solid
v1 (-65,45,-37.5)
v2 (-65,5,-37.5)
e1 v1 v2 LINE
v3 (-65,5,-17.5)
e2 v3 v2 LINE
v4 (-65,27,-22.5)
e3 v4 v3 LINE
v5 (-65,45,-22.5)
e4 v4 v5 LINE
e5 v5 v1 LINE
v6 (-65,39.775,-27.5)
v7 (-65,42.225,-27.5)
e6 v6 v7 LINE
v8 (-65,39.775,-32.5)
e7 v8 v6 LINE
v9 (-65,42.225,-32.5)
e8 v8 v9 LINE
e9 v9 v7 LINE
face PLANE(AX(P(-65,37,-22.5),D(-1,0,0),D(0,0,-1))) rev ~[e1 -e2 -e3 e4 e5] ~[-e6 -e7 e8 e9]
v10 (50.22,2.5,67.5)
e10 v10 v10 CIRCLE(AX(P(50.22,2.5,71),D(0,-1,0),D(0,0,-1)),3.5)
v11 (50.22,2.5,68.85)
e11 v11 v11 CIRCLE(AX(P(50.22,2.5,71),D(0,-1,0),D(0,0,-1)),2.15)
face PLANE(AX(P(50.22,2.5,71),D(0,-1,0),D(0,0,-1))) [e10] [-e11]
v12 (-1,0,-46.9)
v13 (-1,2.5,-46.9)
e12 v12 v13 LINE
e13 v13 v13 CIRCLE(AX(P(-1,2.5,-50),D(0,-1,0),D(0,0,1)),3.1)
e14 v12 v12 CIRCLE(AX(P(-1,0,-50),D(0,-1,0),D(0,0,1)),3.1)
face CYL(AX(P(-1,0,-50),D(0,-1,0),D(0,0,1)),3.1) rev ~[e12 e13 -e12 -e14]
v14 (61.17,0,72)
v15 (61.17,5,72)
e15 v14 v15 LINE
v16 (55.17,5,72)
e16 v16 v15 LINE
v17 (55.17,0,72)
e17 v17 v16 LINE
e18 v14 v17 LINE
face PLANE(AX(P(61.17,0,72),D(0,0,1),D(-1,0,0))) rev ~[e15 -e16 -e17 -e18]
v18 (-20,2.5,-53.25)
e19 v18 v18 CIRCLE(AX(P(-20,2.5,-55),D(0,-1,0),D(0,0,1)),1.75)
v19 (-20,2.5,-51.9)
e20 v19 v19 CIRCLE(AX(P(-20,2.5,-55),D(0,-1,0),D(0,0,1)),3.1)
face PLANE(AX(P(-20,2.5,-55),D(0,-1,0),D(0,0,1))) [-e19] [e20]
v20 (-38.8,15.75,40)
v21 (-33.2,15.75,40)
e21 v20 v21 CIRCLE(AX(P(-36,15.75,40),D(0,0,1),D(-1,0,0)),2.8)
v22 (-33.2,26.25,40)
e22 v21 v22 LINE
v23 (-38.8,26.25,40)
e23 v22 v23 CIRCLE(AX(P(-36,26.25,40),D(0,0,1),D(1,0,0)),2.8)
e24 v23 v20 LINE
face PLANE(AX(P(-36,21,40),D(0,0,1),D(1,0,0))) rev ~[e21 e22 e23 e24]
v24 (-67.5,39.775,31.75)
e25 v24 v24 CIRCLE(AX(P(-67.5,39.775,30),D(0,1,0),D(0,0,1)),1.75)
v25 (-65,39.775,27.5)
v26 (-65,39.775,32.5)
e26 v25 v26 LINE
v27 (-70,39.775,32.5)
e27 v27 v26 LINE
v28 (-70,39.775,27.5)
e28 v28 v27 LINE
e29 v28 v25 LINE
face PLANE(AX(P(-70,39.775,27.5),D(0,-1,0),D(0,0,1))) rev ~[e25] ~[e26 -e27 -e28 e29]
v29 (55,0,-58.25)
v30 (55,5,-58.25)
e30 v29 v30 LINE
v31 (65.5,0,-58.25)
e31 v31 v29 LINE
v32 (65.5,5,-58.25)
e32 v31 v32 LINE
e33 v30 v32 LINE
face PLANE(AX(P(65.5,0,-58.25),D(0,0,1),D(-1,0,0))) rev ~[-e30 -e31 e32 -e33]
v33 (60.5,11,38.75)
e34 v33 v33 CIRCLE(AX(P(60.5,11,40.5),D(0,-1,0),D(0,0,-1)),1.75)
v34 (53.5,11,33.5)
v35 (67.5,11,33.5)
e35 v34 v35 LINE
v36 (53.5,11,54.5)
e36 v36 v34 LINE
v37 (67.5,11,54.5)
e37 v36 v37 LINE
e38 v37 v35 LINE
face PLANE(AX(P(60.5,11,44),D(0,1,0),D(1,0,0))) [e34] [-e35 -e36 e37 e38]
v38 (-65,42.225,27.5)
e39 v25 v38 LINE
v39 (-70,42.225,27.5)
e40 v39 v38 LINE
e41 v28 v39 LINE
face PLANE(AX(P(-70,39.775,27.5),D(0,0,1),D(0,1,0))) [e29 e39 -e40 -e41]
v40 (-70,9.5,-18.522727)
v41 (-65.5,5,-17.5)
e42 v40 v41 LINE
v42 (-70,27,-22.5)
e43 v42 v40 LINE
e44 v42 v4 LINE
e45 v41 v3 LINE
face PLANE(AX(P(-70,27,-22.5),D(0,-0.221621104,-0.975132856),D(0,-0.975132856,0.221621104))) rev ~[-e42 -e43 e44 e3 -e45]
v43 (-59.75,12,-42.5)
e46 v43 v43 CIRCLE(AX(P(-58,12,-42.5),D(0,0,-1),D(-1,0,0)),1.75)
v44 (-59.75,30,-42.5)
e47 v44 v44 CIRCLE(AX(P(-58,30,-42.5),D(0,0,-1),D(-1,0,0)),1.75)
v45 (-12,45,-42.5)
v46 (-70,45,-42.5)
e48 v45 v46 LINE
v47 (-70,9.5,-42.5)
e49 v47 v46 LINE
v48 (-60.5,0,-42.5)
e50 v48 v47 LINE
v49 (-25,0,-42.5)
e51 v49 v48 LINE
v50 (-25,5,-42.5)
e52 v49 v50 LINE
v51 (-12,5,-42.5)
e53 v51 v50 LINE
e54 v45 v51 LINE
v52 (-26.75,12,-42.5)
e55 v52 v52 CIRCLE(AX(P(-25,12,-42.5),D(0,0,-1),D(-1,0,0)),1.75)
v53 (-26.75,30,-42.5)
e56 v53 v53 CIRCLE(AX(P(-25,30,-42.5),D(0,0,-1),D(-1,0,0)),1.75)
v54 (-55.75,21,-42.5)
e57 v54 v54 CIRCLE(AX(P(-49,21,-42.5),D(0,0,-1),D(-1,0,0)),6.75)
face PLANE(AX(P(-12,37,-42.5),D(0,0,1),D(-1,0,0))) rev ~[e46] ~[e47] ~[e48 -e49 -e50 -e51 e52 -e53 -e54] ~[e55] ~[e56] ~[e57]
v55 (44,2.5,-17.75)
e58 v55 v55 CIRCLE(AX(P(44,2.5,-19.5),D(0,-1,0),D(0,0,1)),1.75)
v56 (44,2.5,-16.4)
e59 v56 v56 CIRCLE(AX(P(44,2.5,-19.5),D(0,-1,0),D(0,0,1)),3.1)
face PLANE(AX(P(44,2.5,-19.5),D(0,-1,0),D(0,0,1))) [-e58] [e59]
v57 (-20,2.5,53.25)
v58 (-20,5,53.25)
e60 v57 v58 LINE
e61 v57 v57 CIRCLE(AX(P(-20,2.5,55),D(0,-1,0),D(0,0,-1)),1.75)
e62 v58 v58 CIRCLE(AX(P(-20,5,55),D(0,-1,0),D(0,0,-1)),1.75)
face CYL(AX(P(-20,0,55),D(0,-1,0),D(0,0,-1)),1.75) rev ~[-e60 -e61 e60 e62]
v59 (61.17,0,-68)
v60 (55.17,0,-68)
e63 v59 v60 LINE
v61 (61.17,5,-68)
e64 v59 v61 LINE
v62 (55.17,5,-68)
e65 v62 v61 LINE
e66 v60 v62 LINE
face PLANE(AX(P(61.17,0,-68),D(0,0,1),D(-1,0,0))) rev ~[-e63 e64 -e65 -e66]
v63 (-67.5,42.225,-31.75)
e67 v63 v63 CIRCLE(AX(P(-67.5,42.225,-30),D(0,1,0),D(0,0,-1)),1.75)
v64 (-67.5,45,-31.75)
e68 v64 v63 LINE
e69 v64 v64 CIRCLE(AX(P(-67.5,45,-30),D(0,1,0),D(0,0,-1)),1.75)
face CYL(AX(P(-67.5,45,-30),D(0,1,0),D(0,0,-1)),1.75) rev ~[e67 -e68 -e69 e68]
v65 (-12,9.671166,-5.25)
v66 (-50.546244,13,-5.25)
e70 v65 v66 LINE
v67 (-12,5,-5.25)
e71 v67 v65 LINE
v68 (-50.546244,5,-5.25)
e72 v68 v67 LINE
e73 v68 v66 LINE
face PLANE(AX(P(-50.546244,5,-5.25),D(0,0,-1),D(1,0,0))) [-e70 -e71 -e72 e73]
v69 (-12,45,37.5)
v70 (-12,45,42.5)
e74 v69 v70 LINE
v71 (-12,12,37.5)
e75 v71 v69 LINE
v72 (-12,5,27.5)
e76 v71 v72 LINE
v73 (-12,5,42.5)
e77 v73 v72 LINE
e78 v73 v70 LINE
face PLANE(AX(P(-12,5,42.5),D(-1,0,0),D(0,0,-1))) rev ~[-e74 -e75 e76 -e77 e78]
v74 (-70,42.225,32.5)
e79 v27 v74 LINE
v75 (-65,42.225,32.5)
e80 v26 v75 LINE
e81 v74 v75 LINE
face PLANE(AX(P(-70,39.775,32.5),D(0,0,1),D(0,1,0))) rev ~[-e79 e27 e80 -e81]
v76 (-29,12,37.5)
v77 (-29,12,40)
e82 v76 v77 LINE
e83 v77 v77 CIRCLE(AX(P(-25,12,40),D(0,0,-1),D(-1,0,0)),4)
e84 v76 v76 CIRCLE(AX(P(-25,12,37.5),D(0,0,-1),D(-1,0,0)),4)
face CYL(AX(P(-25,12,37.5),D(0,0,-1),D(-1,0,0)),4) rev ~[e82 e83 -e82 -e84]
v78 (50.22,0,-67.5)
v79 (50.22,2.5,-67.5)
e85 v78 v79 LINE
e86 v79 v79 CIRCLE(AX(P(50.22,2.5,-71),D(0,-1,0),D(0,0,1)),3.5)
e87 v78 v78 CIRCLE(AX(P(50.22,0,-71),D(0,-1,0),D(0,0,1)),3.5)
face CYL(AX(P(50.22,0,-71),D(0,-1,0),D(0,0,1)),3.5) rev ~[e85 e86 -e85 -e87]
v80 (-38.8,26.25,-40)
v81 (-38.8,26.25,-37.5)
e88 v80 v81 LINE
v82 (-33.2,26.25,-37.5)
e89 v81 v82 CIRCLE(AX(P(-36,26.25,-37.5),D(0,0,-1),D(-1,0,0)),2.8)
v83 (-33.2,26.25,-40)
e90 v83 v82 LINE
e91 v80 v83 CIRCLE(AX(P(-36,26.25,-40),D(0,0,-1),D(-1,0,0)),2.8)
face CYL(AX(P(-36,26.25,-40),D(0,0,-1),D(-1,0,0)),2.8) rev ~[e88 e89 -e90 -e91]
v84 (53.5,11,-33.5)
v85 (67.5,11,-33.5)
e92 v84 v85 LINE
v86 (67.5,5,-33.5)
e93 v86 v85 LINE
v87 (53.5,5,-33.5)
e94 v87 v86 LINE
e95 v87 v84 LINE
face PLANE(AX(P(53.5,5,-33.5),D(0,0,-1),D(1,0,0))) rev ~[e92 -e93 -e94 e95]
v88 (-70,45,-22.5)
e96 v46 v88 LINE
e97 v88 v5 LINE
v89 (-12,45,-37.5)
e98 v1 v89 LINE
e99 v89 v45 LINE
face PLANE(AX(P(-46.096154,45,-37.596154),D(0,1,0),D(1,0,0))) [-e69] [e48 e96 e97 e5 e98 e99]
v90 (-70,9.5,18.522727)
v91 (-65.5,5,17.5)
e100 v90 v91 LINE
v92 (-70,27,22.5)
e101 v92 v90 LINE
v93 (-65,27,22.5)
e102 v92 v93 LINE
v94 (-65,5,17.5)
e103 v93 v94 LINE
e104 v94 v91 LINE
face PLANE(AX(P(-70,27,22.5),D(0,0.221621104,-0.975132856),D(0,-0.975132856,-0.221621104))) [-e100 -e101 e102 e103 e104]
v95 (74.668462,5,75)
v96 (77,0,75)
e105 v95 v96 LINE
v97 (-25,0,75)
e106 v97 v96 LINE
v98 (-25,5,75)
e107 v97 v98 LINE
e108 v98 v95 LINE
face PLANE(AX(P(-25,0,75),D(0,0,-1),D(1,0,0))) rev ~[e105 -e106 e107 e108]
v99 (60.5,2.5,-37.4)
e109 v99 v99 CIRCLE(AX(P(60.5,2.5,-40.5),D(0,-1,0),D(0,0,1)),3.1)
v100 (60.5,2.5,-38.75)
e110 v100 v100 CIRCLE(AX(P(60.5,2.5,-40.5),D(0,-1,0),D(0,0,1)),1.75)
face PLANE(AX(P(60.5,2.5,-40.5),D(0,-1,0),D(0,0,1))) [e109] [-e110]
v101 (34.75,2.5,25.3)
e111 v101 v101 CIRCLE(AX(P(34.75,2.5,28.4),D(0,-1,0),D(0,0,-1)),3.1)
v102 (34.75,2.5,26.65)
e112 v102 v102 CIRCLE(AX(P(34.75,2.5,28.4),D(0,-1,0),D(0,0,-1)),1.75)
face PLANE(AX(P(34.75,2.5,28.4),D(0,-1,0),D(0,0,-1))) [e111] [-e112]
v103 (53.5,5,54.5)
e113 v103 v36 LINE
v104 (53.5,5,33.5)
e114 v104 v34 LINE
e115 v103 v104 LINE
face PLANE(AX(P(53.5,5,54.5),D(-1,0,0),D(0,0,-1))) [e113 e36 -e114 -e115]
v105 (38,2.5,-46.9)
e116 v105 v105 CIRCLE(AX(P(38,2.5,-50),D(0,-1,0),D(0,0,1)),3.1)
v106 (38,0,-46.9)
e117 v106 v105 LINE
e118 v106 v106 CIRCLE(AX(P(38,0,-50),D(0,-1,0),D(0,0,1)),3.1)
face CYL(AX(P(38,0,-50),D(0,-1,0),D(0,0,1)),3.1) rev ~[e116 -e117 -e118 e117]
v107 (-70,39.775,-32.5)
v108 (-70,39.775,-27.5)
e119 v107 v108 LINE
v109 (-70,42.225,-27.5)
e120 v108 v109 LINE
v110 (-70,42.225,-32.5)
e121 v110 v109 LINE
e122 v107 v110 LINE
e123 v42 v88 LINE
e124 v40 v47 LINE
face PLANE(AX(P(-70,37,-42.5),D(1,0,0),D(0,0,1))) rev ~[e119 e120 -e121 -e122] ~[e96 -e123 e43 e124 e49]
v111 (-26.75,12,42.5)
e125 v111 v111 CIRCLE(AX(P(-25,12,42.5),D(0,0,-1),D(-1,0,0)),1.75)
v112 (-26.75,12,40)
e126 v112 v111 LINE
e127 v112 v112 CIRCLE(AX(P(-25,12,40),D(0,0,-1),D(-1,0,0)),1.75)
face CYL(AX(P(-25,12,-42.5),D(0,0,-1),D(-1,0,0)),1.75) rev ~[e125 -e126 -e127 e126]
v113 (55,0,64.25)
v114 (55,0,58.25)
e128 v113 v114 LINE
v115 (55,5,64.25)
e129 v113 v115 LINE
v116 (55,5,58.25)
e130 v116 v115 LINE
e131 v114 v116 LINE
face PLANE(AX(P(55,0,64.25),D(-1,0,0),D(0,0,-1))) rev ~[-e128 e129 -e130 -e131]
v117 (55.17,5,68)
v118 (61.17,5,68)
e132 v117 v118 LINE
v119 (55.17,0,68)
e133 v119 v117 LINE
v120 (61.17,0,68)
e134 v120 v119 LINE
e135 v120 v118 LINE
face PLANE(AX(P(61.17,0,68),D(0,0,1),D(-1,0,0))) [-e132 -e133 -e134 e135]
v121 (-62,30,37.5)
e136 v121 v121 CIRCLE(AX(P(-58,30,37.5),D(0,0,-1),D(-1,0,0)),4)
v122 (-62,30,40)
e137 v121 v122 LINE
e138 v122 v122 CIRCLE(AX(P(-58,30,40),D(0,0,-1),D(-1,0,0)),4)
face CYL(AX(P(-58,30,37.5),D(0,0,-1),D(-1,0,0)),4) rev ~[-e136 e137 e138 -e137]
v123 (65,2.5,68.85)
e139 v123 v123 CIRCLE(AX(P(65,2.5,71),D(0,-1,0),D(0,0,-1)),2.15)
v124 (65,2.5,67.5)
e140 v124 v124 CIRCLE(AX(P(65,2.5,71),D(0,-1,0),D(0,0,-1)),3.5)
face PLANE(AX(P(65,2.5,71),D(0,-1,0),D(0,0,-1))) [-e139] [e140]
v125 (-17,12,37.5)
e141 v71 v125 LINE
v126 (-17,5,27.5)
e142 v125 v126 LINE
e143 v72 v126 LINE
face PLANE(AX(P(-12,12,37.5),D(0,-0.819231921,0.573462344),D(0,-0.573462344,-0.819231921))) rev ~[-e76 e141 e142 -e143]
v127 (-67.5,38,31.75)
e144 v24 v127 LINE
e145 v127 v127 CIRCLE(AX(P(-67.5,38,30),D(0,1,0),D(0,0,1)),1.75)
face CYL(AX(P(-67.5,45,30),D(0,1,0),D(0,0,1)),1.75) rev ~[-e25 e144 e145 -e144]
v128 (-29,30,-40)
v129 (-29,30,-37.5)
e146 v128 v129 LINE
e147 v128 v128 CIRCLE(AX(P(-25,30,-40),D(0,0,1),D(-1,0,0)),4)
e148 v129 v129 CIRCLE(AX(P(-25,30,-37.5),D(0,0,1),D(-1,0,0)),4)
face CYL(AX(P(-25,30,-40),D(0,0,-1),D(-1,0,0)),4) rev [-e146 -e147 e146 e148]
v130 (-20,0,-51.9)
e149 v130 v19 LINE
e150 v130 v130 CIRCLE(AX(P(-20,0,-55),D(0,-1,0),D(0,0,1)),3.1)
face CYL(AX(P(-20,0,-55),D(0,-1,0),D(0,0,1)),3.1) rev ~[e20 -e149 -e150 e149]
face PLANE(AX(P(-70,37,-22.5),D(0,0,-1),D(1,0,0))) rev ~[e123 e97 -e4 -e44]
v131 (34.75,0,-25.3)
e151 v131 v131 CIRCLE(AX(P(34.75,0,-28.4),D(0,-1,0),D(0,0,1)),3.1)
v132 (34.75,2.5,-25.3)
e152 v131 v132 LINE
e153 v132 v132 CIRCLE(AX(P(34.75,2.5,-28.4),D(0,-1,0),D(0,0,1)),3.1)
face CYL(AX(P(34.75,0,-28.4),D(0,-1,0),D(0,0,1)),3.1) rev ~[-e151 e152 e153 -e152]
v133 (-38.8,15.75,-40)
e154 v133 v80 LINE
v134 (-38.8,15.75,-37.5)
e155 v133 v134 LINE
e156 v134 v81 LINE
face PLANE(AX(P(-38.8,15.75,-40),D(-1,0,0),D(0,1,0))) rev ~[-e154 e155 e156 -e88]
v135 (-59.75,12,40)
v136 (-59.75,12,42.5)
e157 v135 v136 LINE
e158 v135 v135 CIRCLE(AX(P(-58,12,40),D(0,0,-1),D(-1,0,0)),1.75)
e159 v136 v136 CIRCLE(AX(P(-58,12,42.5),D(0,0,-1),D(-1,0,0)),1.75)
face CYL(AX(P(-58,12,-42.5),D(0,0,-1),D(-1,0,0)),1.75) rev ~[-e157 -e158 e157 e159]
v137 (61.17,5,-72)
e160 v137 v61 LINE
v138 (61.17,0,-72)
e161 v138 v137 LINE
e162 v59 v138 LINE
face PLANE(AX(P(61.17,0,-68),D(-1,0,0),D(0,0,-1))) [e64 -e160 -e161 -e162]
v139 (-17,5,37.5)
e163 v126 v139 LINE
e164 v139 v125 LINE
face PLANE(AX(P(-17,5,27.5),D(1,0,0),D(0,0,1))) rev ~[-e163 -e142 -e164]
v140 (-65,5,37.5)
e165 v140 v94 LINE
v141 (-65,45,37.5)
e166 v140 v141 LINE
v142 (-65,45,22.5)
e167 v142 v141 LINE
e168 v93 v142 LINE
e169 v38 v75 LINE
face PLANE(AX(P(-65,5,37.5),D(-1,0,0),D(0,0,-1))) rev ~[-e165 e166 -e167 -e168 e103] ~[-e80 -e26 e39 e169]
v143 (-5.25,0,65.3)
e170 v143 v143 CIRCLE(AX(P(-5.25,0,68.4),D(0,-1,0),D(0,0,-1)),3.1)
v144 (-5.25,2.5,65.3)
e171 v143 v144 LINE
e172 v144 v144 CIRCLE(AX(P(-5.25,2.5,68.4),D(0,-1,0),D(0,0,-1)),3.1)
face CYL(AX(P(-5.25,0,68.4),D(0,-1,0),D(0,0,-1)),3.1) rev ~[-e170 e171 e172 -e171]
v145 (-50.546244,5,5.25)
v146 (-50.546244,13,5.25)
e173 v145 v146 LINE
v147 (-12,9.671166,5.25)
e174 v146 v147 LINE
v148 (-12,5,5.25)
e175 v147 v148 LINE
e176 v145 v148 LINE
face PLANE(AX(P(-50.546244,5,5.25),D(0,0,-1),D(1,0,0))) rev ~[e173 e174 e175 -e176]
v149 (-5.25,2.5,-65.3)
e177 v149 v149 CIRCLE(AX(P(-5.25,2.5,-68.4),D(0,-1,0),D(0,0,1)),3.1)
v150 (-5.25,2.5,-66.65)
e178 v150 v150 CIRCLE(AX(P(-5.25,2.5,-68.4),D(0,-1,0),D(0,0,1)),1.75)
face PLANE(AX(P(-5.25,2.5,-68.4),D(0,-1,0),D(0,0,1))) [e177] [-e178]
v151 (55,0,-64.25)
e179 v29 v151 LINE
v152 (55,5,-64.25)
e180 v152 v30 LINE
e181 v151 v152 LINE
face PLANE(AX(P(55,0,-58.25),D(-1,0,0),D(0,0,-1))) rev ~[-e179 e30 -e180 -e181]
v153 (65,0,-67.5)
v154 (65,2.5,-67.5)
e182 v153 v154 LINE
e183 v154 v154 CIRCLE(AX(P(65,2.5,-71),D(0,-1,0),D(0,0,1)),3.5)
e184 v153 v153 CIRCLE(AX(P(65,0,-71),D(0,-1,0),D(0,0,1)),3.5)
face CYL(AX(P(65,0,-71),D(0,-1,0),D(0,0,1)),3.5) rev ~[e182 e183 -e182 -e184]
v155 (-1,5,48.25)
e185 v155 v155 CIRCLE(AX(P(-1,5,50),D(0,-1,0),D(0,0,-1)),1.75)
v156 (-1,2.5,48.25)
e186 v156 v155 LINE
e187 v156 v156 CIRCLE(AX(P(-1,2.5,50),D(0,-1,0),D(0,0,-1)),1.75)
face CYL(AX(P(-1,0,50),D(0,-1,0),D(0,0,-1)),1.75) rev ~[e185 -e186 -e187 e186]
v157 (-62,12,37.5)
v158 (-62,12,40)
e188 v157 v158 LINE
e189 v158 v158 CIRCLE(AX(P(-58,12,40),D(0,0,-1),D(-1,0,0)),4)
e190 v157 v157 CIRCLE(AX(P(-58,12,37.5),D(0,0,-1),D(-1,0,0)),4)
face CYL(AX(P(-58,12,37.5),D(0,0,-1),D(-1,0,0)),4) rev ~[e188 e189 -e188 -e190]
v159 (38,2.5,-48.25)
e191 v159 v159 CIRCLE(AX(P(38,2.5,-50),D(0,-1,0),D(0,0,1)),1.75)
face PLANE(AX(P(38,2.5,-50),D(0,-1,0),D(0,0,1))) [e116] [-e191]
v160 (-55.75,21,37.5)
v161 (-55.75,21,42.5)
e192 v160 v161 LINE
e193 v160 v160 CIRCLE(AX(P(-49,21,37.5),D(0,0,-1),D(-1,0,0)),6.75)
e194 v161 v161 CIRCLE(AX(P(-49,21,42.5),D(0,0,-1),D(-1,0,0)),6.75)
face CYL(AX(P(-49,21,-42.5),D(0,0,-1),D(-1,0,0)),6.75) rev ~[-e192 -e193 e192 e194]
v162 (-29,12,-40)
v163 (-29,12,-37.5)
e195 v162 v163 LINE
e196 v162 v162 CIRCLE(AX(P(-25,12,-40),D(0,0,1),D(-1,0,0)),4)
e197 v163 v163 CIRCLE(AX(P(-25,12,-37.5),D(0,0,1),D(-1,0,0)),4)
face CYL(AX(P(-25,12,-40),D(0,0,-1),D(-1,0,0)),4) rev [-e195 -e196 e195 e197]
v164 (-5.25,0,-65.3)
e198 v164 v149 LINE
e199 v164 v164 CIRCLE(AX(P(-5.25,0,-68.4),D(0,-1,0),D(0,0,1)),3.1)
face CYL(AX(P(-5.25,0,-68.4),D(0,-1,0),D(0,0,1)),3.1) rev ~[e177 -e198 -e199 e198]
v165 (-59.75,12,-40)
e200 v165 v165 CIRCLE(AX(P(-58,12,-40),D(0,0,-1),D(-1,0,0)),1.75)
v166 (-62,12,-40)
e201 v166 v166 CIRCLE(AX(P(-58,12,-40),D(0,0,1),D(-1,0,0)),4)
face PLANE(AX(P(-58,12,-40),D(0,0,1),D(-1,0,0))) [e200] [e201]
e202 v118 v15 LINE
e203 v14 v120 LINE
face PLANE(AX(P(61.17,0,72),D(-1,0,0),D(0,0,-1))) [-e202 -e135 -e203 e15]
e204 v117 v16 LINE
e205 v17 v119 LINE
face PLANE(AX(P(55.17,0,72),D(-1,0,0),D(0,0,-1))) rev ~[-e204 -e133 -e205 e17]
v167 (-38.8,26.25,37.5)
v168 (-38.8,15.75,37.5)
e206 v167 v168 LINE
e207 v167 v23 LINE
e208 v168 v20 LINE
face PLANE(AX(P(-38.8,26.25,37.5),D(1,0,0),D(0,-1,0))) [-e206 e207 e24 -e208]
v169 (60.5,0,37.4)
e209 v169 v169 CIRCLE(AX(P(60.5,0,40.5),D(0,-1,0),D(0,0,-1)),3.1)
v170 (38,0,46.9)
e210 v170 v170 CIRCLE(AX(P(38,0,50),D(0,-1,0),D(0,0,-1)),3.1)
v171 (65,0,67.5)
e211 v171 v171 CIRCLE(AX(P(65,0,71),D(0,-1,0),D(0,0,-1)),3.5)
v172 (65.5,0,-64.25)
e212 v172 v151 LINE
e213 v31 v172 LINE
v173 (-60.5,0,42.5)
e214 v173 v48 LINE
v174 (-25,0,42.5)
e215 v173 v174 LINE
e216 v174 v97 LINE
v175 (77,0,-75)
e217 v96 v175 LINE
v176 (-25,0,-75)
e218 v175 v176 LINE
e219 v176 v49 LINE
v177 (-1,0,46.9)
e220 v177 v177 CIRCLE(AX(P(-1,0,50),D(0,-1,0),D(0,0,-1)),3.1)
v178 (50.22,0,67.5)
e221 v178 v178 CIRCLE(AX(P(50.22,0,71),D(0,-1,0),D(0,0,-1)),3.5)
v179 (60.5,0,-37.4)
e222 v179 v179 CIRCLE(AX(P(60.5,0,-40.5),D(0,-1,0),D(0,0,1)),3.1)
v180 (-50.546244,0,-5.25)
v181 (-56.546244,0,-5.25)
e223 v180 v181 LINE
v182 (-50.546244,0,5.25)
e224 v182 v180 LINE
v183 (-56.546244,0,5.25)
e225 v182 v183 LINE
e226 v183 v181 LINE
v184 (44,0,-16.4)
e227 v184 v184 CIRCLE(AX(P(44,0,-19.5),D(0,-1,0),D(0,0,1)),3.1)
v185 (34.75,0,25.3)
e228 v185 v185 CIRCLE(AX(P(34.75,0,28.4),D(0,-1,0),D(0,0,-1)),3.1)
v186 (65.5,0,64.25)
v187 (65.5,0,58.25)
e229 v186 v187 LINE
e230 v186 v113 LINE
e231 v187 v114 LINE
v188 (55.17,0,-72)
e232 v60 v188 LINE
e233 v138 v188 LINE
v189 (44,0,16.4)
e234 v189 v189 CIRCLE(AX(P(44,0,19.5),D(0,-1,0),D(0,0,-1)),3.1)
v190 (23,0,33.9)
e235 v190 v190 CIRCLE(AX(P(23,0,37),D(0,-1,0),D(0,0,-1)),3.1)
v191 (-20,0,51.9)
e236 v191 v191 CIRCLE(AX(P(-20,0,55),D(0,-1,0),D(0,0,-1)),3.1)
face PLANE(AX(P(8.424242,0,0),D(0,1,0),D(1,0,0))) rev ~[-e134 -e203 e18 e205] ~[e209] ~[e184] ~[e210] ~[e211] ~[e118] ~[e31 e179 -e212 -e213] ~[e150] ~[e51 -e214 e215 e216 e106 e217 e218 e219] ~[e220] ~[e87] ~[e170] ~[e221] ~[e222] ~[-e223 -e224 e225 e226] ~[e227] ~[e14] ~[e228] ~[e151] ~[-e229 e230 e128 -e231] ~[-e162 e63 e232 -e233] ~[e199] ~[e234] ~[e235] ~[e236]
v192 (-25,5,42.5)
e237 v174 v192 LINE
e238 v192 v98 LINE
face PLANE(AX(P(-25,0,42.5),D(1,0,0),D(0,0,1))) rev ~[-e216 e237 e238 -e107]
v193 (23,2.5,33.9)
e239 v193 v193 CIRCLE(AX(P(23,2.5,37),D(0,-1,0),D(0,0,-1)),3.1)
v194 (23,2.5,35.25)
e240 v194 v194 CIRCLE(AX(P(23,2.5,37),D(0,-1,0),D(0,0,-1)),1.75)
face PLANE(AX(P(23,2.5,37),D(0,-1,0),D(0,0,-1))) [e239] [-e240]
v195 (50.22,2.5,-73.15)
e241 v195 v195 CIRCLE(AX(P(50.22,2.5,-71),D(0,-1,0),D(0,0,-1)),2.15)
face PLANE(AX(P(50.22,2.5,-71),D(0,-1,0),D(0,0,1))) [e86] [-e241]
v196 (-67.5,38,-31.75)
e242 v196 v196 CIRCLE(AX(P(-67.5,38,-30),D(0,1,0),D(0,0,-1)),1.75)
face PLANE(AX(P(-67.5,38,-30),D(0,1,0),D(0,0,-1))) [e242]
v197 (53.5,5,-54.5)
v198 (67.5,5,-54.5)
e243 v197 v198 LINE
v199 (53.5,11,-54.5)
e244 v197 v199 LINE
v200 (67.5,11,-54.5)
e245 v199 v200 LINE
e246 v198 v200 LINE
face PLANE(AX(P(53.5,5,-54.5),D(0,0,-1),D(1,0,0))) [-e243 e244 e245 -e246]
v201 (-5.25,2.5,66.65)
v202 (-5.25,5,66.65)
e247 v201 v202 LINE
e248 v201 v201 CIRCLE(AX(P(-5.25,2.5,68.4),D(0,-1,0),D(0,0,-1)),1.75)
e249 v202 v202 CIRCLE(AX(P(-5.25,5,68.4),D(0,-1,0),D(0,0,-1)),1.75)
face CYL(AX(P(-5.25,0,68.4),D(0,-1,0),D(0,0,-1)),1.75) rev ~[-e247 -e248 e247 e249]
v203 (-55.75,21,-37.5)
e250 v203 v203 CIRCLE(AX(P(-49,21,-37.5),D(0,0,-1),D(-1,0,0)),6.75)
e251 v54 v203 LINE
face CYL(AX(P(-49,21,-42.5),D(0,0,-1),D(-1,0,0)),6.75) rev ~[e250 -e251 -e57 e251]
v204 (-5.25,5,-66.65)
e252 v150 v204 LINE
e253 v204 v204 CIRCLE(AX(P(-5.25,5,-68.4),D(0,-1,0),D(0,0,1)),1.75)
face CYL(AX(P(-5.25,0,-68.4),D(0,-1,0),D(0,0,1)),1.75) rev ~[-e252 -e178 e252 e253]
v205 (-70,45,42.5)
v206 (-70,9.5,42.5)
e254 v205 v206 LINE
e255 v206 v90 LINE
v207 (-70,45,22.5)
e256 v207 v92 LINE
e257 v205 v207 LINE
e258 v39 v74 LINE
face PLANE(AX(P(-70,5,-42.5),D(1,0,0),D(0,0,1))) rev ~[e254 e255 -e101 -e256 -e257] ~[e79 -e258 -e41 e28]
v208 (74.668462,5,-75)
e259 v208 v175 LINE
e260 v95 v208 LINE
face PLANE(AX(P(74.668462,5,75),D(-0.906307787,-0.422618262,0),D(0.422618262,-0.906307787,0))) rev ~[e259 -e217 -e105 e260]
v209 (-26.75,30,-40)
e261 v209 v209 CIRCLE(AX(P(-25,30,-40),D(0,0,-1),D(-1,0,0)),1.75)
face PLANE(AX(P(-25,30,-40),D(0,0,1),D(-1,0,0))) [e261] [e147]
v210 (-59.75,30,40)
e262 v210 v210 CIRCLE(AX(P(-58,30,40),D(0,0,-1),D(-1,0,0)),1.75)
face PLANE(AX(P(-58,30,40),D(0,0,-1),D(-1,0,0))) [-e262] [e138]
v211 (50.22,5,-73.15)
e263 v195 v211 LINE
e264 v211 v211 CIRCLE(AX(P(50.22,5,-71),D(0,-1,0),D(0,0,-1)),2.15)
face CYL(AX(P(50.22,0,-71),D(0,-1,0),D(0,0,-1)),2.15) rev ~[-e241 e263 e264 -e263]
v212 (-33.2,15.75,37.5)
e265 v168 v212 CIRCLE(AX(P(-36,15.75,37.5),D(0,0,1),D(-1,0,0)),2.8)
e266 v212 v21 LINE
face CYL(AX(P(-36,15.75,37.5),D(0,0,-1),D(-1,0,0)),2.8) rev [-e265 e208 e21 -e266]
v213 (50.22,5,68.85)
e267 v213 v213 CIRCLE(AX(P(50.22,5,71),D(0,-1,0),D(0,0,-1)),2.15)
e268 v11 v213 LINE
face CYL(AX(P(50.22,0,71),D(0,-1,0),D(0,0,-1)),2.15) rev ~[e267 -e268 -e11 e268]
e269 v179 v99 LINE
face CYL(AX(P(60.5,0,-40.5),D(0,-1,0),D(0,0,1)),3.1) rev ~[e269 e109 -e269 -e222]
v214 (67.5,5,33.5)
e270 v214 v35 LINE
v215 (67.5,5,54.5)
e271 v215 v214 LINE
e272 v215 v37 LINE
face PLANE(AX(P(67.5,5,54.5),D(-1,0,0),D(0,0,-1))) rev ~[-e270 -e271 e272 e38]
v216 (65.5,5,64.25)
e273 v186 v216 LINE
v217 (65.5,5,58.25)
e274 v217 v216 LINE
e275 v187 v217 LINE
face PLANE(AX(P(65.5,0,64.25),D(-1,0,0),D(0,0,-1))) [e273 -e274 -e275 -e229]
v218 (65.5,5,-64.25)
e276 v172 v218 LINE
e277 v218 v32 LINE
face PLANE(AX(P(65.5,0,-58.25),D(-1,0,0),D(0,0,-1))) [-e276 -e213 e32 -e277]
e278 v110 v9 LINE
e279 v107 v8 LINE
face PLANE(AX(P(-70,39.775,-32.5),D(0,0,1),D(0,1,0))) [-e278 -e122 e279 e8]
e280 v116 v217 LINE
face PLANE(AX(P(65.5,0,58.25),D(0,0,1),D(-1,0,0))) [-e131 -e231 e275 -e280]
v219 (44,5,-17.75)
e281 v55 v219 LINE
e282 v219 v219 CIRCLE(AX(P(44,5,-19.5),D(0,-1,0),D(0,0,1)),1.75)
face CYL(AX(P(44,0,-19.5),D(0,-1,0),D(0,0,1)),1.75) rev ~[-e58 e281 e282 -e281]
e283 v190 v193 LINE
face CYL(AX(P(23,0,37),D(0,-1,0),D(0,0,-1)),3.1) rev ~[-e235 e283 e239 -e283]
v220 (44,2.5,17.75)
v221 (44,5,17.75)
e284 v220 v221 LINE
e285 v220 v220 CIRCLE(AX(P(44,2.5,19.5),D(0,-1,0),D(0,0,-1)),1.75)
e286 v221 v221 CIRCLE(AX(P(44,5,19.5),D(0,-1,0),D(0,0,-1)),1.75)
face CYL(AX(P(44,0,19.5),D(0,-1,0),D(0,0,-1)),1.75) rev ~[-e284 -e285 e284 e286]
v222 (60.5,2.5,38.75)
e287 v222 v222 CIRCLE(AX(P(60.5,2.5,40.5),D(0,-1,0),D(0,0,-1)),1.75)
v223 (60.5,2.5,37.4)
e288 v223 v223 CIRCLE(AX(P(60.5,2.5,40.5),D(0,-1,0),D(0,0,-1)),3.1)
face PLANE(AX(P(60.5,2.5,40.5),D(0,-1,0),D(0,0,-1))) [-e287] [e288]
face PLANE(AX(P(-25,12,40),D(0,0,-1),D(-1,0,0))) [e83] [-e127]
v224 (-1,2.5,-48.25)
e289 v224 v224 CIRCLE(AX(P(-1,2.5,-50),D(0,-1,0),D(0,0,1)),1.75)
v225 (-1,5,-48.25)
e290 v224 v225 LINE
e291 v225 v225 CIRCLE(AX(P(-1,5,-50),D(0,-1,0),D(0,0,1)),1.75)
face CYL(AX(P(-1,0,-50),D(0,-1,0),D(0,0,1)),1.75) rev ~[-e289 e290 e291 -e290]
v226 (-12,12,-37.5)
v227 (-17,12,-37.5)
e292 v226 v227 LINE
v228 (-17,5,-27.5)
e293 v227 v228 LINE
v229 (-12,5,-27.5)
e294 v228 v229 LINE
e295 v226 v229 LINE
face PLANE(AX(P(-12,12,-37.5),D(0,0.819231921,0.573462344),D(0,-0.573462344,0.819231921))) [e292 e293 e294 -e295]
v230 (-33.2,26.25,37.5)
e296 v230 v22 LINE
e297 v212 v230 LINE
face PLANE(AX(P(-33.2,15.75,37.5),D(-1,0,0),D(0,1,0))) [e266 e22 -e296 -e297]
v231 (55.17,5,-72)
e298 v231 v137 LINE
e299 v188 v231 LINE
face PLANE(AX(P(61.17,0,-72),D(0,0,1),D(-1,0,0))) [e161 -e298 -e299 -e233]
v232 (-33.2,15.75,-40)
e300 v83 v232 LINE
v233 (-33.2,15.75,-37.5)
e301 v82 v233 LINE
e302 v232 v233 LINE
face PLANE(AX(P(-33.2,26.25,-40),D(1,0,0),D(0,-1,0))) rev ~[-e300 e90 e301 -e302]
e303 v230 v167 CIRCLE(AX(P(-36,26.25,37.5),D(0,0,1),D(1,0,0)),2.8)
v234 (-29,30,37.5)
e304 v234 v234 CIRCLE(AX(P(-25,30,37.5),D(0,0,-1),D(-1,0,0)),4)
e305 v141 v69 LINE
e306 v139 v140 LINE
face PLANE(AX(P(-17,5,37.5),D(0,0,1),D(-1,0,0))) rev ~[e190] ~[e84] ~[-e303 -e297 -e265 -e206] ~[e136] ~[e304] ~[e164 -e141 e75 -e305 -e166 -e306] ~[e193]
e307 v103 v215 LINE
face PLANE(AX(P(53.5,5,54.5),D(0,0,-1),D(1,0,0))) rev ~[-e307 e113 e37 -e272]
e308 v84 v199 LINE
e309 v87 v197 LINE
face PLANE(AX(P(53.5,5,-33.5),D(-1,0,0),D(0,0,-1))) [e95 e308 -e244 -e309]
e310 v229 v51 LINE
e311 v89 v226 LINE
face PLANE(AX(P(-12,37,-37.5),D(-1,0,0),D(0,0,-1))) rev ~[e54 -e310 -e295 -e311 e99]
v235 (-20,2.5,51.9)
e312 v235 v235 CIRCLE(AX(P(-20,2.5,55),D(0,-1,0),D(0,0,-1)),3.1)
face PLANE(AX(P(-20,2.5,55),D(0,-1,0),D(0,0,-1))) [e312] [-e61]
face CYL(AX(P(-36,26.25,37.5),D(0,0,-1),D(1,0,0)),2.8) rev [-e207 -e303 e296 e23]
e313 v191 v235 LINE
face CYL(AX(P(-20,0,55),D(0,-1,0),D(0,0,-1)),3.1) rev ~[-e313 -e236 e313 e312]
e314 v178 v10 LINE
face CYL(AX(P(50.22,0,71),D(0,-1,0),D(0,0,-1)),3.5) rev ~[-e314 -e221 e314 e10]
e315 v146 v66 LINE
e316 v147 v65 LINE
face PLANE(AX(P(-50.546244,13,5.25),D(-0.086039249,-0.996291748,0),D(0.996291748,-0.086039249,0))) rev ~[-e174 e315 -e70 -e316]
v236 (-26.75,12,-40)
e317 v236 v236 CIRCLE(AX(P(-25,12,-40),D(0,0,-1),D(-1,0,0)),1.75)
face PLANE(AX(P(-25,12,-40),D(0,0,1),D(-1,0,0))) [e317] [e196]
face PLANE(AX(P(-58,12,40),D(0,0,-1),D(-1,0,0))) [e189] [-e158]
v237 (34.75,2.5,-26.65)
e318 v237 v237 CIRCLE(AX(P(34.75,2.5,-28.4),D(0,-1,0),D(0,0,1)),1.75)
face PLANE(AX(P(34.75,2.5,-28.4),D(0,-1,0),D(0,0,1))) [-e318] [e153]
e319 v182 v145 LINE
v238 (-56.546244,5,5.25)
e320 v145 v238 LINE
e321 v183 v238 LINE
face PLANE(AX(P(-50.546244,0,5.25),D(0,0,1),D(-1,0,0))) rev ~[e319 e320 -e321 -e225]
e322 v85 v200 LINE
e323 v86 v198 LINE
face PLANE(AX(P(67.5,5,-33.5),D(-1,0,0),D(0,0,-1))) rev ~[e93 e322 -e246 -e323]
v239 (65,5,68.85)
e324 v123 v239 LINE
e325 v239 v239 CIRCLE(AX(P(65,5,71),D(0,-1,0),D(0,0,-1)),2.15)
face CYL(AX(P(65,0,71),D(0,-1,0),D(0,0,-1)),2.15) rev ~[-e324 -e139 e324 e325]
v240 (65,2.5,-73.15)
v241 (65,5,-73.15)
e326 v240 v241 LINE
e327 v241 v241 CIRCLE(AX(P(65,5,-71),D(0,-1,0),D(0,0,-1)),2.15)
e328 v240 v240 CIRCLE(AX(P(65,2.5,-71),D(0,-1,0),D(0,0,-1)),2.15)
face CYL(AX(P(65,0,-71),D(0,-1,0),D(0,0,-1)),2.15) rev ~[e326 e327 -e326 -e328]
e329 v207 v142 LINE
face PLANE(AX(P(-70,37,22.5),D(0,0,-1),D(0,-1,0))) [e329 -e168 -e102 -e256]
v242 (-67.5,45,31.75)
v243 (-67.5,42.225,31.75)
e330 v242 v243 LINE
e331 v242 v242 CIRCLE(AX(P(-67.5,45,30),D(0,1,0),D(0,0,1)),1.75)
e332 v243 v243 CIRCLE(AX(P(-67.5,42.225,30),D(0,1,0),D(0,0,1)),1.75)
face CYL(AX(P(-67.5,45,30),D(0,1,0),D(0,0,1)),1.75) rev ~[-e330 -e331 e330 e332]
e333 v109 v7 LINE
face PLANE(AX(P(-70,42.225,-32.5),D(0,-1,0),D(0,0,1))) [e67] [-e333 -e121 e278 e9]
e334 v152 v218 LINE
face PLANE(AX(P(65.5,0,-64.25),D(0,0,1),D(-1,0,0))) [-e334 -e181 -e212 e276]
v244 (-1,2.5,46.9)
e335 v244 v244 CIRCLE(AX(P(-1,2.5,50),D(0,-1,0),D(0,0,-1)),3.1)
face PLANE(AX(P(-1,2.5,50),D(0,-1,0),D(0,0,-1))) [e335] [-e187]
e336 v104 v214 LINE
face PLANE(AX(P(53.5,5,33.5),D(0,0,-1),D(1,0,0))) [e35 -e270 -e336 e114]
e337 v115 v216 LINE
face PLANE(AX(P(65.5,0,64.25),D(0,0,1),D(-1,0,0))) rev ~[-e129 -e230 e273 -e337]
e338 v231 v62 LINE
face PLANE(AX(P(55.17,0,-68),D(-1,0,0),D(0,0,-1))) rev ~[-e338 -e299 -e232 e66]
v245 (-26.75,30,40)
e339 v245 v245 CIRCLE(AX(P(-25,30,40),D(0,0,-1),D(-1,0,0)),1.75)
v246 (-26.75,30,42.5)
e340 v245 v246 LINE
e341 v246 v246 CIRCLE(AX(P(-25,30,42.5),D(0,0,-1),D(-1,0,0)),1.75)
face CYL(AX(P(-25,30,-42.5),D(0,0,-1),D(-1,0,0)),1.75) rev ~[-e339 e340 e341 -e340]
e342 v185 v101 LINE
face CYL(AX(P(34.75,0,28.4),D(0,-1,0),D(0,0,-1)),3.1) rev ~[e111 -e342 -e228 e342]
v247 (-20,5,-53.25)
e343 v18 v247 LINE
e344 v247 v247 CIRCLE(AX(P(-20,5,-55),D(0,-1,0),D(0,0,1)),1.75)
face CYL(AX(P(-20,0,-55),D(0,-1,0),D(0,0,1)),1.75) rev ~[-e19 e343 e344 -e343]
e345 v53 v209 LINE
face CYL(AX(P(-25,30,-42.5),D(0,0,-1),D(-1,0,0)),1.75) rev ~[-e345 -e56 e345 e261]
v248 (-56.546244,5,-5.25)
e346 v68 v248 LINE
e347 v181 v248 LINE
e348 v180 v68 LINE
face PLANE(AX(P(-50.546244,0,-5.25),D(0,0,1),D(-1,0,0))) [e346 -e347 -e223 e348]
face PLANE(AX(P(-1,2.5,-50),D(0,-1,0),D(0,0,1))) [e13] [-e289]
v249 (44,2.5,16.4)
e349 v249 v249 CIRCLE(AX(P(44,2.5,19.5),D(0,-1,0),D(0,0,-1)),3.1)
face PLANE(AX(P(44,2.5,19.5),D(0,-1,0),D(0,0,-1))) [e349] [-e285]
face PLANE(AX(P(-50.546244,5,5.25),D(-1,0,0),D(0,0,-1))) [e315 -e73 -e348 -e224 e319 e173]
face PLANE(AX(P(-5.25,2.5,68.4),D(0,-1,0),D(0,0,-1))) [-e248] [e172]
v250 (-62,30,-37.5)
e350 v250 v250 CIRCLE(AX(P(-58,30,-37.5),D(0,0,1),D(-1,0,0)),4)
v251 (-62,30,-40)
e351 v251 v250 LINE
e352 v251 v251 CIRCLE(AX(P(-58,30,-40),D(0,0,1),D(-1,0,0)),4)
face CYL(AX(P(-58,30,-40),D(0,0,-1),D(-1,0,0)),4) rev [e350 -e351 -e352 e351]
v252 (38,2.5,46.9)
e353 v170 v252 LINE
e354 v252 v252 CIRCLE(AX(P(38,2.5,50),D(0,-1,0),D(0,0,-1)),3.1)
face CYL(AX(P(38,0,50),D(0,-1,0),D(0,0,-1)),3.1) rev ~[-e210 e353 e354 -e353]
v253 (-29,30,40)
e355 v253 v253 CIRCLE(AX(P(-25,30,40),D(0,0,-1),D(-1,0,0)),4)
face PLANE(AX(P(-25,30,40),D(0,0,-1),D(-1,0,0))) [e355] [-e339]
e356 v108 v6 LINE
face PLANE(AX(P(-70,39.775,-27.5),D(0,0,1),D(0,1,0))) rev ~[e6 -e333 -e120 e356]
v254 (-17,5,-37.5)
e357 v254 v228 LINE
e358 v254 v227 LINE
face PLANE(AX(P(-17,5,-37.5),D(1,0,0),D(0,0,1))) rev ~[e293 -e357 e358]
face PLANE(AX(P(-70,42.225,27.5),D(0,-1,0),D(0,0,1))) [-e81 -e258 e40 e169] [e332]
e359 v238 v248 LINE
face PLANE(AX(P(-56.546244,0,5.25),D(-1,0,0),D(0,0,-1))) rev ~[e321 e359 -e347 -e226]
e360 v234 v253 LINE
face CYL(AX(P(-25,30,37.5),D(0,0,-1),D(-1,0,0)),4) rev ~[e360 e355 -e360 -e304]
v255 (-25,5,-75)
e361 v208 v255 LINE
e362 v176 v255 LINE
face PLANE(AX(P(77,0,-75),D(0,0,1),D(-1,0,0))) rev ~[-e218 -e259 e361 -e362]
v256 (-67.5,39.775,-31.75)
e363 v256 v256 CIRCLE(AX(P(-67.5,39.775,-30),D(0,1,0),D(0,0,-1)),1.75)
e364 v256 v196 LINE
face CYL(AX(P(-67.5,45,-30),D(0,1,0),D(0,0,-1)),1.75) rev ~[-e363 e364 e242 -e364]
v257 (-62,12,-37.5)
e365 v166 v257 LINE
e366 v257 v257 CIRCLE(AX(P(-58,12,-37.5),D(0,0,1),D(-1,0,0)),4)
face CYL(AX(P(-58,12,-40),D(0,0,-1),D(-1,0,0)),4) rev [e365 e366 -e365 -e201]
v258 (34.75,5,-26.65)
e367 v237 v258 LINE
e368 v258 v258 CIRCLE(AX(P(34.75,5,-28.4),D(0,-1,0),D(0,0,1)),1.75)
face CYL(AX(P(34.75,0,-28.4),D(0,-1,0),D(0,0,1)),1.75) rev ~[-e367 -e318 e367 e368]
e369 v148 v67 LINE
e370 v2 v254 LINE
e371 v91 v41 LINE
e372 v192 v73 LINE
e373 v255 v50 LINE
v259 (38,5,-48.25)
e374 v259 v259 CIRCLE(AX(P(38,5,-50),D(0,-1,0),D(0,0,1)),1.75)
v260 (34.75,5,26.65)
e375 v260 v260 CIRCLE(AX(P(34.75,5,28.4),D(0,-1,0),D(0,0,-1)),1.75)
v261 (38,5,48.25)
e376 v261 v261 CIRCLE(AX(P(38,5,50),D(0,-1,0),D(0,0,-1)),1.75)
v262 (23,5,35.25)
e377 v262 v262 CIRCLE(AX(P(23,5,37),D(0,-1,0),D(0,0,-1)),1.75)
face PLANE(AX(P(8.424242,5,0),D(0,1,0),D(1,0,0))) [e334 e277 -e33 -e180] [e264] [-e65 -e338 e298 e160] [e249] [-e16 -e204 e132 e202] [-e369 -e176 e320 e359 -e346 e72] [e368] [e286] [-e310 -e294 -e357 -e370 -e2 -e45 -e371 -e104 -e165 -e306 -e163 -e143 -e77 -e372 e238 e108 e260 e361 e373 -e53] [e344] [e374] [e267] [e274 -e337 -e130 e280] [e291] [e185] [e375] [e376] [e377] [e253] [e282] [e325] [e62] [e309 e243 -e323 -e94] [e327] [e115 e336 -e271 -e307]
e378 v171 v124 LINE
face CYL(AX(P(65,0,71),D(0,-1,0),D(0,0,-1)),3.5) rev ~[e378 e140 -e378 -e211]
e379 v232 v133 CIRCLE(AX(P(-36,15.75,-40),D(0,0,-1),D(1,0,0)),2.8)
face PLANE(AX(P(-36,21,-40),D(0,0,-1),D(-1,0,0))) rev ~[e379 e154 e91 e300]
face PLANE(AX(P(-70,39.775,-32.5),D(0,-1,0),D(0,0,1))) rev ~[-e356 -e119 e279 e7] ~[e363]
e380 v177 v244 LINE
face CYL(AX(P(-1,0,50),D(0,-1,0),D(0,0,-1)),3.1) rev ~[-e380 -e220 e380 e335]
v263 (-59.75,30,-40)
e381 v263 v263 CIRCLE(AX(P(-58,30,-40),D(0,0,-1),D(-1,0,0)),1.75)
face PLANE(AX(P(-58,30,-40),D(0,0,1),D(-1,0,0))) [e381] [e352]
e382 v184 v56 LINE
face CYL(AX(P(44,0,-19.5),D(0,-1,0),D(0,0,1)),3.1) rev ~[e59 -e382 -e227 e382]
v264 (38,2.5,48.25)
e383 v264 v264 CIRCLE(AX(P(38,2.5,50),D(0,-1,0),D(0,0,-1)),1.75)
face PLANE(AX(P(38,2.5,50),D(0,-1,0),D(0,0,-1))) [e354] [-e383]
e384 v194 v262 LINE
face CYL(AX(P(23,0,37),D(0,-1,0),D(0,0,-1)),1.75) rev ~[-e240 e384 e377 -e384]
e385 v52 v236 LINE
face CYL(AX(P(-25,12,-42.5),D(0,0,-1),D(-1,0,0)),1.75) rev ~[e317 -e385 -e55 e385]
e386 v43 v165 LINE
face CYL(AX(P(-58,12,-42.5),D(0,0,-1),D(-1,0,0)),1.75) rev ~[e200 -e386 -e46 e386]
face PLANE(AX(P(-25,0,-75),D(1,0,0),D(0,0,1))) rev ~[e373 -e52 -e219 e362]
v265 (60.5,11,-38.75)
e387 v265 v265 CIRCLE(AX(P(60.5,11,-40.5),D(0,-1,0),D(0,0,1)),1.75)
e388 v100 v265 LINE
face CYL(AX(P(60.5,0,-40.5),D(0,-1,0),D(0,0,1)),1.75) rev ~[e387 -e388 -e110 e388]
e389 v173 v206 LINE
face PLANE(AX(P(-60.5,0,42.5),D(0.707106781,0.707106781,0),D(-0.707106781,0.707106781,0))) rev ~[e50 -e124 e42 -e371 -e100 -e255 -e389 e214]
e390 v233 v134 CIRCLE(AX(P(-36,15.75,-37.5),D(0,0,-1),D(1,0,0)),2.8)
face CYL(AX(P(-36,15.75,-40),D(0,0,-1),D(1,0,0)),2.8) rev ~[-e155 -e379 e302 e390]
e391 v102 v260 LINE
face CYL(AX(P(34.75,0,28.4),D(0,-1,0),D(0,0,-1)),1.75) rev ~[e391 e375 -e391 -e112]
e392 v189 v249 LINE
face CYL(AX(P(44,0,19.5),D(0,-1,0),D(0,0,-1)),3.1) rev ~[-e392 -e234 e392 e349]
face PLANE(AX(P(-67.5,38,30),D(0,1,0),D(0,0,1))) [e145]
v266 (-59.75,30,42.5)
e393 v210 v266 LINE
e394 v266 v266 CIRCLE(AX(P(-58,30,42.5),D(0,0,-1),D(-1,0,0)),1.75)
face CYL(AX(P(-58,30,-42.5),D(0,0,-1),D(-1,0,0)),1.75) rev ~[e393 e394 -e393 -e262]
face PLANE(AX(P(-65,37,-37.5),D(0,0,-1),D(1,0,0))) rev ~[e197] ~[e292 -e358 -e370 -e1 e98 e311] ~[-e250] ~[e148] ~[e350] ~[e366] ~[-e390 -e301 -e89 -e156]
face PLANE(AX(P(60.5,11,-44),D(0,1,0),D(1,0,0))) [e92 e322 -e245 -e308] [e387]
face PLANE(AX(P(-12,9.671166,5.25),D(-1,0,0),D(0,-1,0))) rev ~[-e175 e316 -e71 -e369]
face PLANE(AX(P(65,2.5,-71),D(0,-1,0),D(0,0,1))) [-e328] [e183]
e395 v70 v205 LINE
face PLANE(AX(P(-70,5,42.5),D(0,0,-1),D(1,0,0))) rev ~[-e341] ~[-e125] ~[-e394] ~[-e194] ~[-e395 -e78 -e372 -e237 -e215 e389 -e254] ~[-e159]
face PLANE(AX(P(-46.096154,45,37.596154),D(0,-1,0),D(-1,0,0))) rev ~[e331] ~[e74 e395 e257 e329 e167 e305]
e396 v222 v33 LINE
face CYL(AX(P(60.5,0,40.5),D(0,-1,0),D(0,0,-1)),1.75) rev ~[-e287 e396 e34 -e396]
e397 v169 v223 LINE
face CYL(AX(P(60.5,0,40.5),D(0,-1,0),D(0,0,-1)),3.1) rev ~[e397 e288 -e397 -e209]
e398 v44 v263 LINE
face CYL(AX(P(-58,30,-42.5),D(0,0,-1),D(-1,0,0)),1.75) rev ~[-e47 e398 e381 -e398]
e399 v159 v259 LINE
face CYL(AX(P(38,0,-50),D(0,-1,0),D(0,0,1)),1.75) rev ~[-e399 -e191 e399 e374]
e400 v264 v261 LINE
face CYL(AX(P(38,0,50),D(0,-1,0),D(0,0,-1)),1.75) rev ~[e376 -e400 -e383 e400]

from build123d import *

# Parameters (mm, degrees)
BOSS_EXTRUDE1_DEPTH = 5
BOSS_EXTRUDE2_DEPTH = 32
CUT_EXTRUDE2_DEPTH  = 5
CUT_EXTRUDE3_DEPTH  = 5
SKETCH7_R           = 6.75
SKETCH7_R_2         = 1.75
C_L_NG_C_DEPTH      = 146.27301883
SKETCH14_R          = 4
CUT_EXTRUDE8_DEPTH  = 2.5
CUT_EXTRUDE9_START  = -2.5
SKETCH15_R          = 4
CUT_EXTRUDE9_DEPTH  = 2.5
CUT_EXTRUDE15_DEPTH = 89
BOSS_EXTRUDE3_DEPTH = 8
SKETCH28_R          = 1.75
CUT_EXTRUDE16_DEPTH = 7
SKETCH29_W          = 5
SKETCH29_H          = 2.45
CUT_EXTRUDE17_DEPTH = 5
CUT_EXTRUDE18_DEPTH = 151
SKETCH30_W          = 10.5
SKETCH30_H          = 6
SKETCH30_W_2        = 6
SKETCH30_H_2        = 4
CUT_EXTRUDE19_DEPTH = 10
SKETCH31_R          = 2.15
CUT_EXTRUDE20_DEPTH = 10
SKETCH32_R          = 3.5
CUT_EXTRUDE21_DEPTH = 2.5
SKETCH34_W          = 6
SKETCH34_H          = 10.5
CUT_EXTRUDE23_DEPTH = 5
SKETCH40_R          = 1.75
CUT_EXTRUDE27_DEPTH = 5
SKETCH41_W          = 92.636025087
SKETCH41_H          = 10.5
BOSS_EXTRUDE5_DEPTH = 8
CUT_EXTRUDE28_DEPTH = 14
CUT_EXTRUDE34_DEPTH = 13.5
SKETCH49_R          = 1.75
CUT_EXTRUDE35_DEPTH = 10
SKETCH48_W          = 14
SKETCH48_H          = 21
BOSS_EXTRUDE6_DEPTH = 6
SKETCH50_R          = 1.75
CUT_EXTRUDE36_DEPTH = 19
SKETCH51_R          = 3.1
CUT_EXTRUDE37_DEPTH = 2.5


with BuildPart() as part:
    # Sketch1 → Boss-Extrude1 (new body)
    with BuildSketch(Plane(origin=(0, 0, 0), x_dir=(1, 0, 0), z_dir=(0, 1, 0))):
        Polygon((-25, 75), (-25, 42.5), (-70, 42.5), (-70, -42.5), (-25, -42.5), (-25, -75), (77, -75), (77, 75), align=None)
    extrude(amount=BOSS_EXTRUDE1_DEPTH)

    # Sketch3 → Boss-Extrude2 (add)
    with BuildSketch(Plane(origin=(0, 5, 0), x_dir=(1, 0, 0), z_dir=(0, 1, 0))):
        Polygon((-70, 17.5), (-65, 17.5), (-65, 37.5), (-17, 37.5), (-17, 27.5), (-12, 27.5), (-12, 42.5), (-70, 42.5), align=None)
        Polygon((-70, -17.5), (-70, -42.5), (-12, -42.5), (-12, -27.5), (-17, -27.5), (-17, -37.5), (-65, -37.5), (-65, -17.5), align=None)
    extrude(amount=BOSS_EXTRUDE2_DEPTH)

    # Sketch5 → Cut-Extrude2 (cut)
    with BuildSketch(Plane.ZY.offset(70)):
        Polygon((-17.5, 37), (-22.5, 37), (-22.5, 27), (-17.5, 5), align=None)
        Polygon((17.5, 5), (17.5, 37), (22.5, 37), (22.5, 27), align=None)
    extrude(amount=-CUT_EXTRUDE2_DEPTH, mode=Mode.SUBTRACT)

    # Sketch6 → Cut-Extrude3 (cut)
    with BuildSketch(Plane(origin=(-12, 0, 0), x_dir=(0, 0, -1), z_dir=(1, 0, 0))):
        Polygon((-27.5, 37), (-37.5, 37), (-37.5, 12), (-27.5, 5), align=None)
        Polygon((37.5, 12), (27.5, 5), (27.5, 37), (37.5, 37), align=None)
    extrude(amount=-CUT_EXTRUDE3_DEPTH, mode=Mode.SUBTRACT)

    # Sketch7 → Đục lỗ động cơ (cut, through all)
    with BuildSketch(Plane(origin=(0, 0, -42.5), x_dir=(-1, 0, 0), z_dir=(0, 0, -1))):
        with Locations((49, 21)):
            Circle(SKETCH7_R)
        with Locations((25, 30)):
            Circle(SKETCH7_R_2)
        with Locations((25, 12)):
            Circle(SKETCH7_R_2)
        with Locations((58, 30)):
            Circle(SKETCH7_R_2)
        with Locations((58, 12)):
            Circle(SKETCH7_R_2)
    extrude(amount=-C_L_NG_C_DEPTH, mode=Mode.SUBTRACT)

    # Sketch14 → Cut-Extrude8 (cut)
    with BuildSketch(Plane(origin=(0, 0, 37.5), x_dir=(-1, 0, 0), z_dir=(0, 0, -1))):
        with Locations((58, 30)):
            Circle(SKETCH14_R)
        with Locations((25, 30)):
            Circle(SKETCH14_R)
        with Locations((25, 12)):
            Circle(SKETCH14_R)
        with Locations((58, 12)):
            Circle(SKETCH14_R)
        with BuildLine():
            Line((38.8, 26.25), (38.8, 15.75))
            ThreePointArc((38.8, 15.75), (36, 12.95), (33.2, 15.75))
            Line((33.2, 15.75), (33.2, 26.25))
            ThreePointArc((33.2, 26.25), (36, 29.05), (38.8, 26.25))
        make_face()
    extrude(amount=-CUT_EXTRUDE8_DEPTH, mode=Mode.SUBTRACT)

    # Sketch15 → Cut-Extrude9 (cut)
    with BuildSketch(Plane.XY.offset(-37.5).offset(CUT_EXTRUDE9_START)):
        with Locations((-25, 30)):
            Circle(SKETCH15_R)
        with Locations((-25, 12)):
            Circle(SKETCH15_R)
        with Locations((-58, 12)):
            Circle(SKETCH15_R)
        with Locations((-58, 30)):
            Circle(SKETCH15_R)
        with BuildLine():
            Line((-33.2, 26.25), (-33.2, 15.75))
            ThreePointArc((-33.2, 15.75), (-36, 12.95), (-38.8, 15.75))
            Line((-38.8, 15.75), (-38.8, 26.25))
            ThreePointArc((-38.8, 26.25), (-36, 29.05), (-33.2, 26.25))
        make_face()
    extrude(amount=CUT_EXTRUDE9_DEPTH, mode=Mode.SUBTRACT)

    # Sketch25 → Cut-Extrude15 (cut)
    with BuildSketch(Plane.XY.offset(42.5)):
        Polygon((-70, 9.5), (-70, 0), (-60.5, 0), align=None)
    extrude(amount=-CUT_EXTRUDE15_DEPTH, mode=Mode.SUBTRACT)

    # Sketch27 → Boss-Extrude3 (add)
    with BuildSketch(Plane(origin=(0, 37, 0), x_dir=(1, 0, 0), z_dir=(0, 1, 0))):
        Polygon((-12, 42.5), (-70, 42.5), (-70, 22.5), (-65, 22.5), (-65, 37.5), (-12, 37.5), align=None)
        Polygon((-12, -37.5), (-12, -42.5), (-70, -42.5), (-70, -22.5), (-65, -22.5), (-65, -37.5), align=None)
    extrude(amount=BOSS_EXTRUDE3_DEPTH)

    # Sketch28 → Cut-Extrude16 (cut)
    with BuildSketch(Plane(origin=(0, 45, 0), x_dir=(1, 0, 0), z_dir=(0, 1, 0))):
        with Locations((-67.5, -30)):
            Circle(SKETCH28_R)
        with Locations((-67.5, 30)):
            Circle(SKETCH28_R)
    extrude(amount=-CUT_EXTRUDE16_DEPTH, mode=Mode.SUBTRACT)

    # Sketch29 → Cut-Extrude17 (cut)
    with BuildSketch(Plane.ZY.offset(70)):
        with Locations((-30, 41)):
            Rectangle(SKETCH29_W, SKETCH29_H)
        with Locations((30, 41)):
            Rectangle(SKETCH29_W, SKETCH29_H)
    extrude(amount=-CUT_EXTRUDE17_DEPTH, mode=Mode.SUBTRACT)

    # Sketch26 → Cut-Extrude18 (cut)
    with BuildSketch(Plane.XY.offset(75)):
        Polygon((74.668461709, 5), (77, 0), (77, 5), align=None)
    extrude(amount=-CUT_EXTRUDE18_DEPTH, mode=Mode.SUBTRACT)

    # Sketch30 → Cut-Extrude19 (cut)
    with BuildSketch(Plane(origin=(0, 0, 0), x_dir=(-1, 0, 0), z_dir=(0, -1, 0))):
        with Locations((-60.25, 61.25)):
            Rectangle(SKETCH30_W, SKETCH30_H)
        with Locations((-60.25, -61.25)):
            Rectangle(SKETCH30_W, SKETCH30_H)
        with Locations((-58.17, -70)):
            Rectangle(SKETCH30_W_2, SKETCH30_H_2)
        with Locations((-58.17, 70)):
            Rectangle(SKETCH30_W_2, SKETCH30_H_2)
    extrude(amount=-CUT_EXTRUDE19_DEPTH, mode=Mode.SUBTRACT)

    # Sketch31 → Cut-Extrude20 (cut)
    with BuildSketch(Plane(origin=(0, 0, 0), x_dir=(-1, 0, 0), z_dir=(0, -1, 0))):
        with Locations((-65, -71)):
            Circle(SKETCH31_R)
        with Locations((-50.22, -71)):
            Circle(SKETCH31_R)
        with Locations((-50.22, 71)):
            Circle(SKETCH31_R)
        with Locations((-65, 71)):
            Circle(SKETCH31_R)
    extrude(amount=-CUT_EXTRUDE20_DEPTH, mode=Mode.SUBTRACT)

    # Sketch32 → Cut-Extrude21 (cut)
    with BuildSketch(Plane(origin=(0, 0, 0), x_dir=(-1, 0, 0), z_dir=(0, -1, 0))):
        with Locations((-65, -71)):
            Circle(SKETCH32_R)
        with Locations((-50.22, -71)):
            Circle(SKETCH32_R)
        with Locations((-50.22, 71)):
            Circle(SKETCH32_R)
        with Locations((-65, 71)):
            Circle(SKETCH32_R)
    extrude(amount=-CUT_EXTRUDE21_DEPTH, mode=Mode.SUBTRACT)

    # Sketch34 → Cut-Extrude23 (cut)
    with BuildSketch(Plane(origin=(0, 0, 0), x_dir=(-1, 0, 0), z_dir=(0, -1, 0))):
        with Locations((53.546244223, 0)):
            Rectangle(SKETCH34_W, SKETCH34_H)
    extrude(amount=-CUT_EXTRUDE23_DEPTH, mode=Mode.SUBTRACT)

    # Sketch40 → Cut-Extrude27 (cut)
    with BuildSketch(Plane(origin=(0, 0, 0), x_dir=(-1, 0, 0), z_dir=(0, -1, 0))):
        with Locations((-38, -50)):
            Circle(SKETCH40_R)
        with Locations((-34.75, -28.4)):
            Circle(SKETCH40_R)
        with Locations((-44, -19.5)):
            Circle(SKETCH40_R)
        with Locations((20, -55)):
            Circle(SKETCH40_R)
        with Locations((5.25, -68.4)):
            Circle(SKETCH40_R)
        with Locations((1, -50)):
            Circle(SKETCH40_R)
        with Locations((1, 50)):
            Circle(SKETCH40_R)
        with Locations((5.25, 68.4)):
            Circle(SKETCH40_R)
        with Locations((20, 55)):
            Circle(SKETCH40_R)
        with Locations((-44, 19.5)):
            Circle(SKETCH40_R)
        with Locations((-34.75, 28.4)):
            Circle(SKETCH40_R)
        with Locations((-38, 50)):
            Circle(SKETCH40_R)
    extrude(amount=-CUT_EXTRUDE27_DEPTH, mode=Mode.SUBTRACT)

    # Sketch41 → Boss-Extrude5 (add)
    with BuildSketch(Plane(origin=(0, 5, 0), x_dir=(1, 0, 0), z_dir=(0, 1, 0))):
        with Locations((-4.228231679, 0)):
            Rectangle(SKETCH41_W, SKETCH41_H)
    extrude(amount=BOSS_EXTRUDE5_DEPTH)

    # Sketch42 → Cut-Extrude28 (cut)
    with BuildSketch(Plane.XY.offset(5.25)):
        Polygon((42.089780864, 5), (42.089780864, 13), (-50.546244223, 13), align=None)
    extrude(amount=-CUT_EXTRUDE28_DEPTH, mode=Mode.SUBTRACT)

    # Sketch47 → Cut-Extrude34 (cut)
    with BuildSketch(Plane.XY.offset(5.25)):
        Polygon((-12, 9.671165958), (-12, 5), (42.089780864, 5), align=None)
    extrude(amount=-CUT_EXTRUDE34_DEPTH, mode=Mode.SUBTRACT)

    # Sketch49 → Cut-Extrude35 (cut)
    with BuildSketch(Plane(origin=(0, 0, 0), x_dir=(-1, 0, 0), z_dir=(0, -1, 0))):
        with Locations((-23, -37)):
            Circle(SKETCH49_R)
    extrude(amount=-CUT_EXTRUDE35_DEPTH, mode=Mode.SUBTRACT)

    # Sketch48 → Boss-Extrude6 (add)
    with BuildSketch(Plane(origin=(0, 5, 0), x_dir=(1, 0, 0), z_dir=(0, 1, 0))):
        with Locations((60.5, 44)):
            Rectangle(SKETCH48_W, SKETCH48_H)
        with Locations((60.5, -44)):
            Rectangle(SKETCH48_W, SKETCH48_H)
    extrude(amount=BOSS_EXTRUDE6_DEPTH)

    # Sketch50 → Cut-Extrude36 (cut)
    with BuildSketch(Plane(origin=(0, 0, 0), x_dir=(-1, 0, 0), z_dir=(0, -1, 0))):
        with Locations((-60.5, -40.5)):
            Circle(SKETCH50_R)
        with Locations((-60.5, 40.5)):
            Circle(SKETCH50_R)
    extrude(amount=-CUT_EXTRUDE36_DEPTH, mode=Mode.SUBTRACT)

    # Sketch51 → Cut-Extrude37 (cut)
    with BuildSketch(Plane(origin=(0, 0, 0), x_dir=(-1, 0, 0), z_dir=(0, -1, 0))):
        with Locations((-60.5, -40.5)):
            Circle(SKETCH51_R)
        with Locations((-44, -19.5)):
            Circle(SKETCH51_R)
        with Locations((-34.75, -28.4)):
            Circle(SKETCH51_R)
        with Locations((-38, -50)):
            Circle(SKETCH51_R)
        with Locations((-23, -37)):
            Circle(SKETCH51_R)
        with Locations((1, -50)):
            Circle(SKETCH51_R)
        with Locations((5.25, -68.4)):
            Circle(SKETCH51_R)
        with Locations((20, -55)):
            Circle(SKETCH51_R)
        with Locations((20, 55)):
            Circle(SKETCH51_R)
        with Locations((5.25, 68.4)):
            Circle(SKETCH51_R)
        with Locations((1, 50)):
            Circle(SKETCH51_R)
        with Locations((-38, 50)):
            Circle(SKETCH51_R)
        with Locations((-34.75, 28.4)):
            Circle(SKETCH51_R)
        with Locations((-44, 19.5)):
            Circle(SKETCH51_R)
        with Locations((-60.5, 40.5)):
            Circle(SKETCH51_R)
    extrude(amount=-CUT_EXTRUDE37_DEPTH, mode=Mode.SUBTRACT)


solid = part.part
